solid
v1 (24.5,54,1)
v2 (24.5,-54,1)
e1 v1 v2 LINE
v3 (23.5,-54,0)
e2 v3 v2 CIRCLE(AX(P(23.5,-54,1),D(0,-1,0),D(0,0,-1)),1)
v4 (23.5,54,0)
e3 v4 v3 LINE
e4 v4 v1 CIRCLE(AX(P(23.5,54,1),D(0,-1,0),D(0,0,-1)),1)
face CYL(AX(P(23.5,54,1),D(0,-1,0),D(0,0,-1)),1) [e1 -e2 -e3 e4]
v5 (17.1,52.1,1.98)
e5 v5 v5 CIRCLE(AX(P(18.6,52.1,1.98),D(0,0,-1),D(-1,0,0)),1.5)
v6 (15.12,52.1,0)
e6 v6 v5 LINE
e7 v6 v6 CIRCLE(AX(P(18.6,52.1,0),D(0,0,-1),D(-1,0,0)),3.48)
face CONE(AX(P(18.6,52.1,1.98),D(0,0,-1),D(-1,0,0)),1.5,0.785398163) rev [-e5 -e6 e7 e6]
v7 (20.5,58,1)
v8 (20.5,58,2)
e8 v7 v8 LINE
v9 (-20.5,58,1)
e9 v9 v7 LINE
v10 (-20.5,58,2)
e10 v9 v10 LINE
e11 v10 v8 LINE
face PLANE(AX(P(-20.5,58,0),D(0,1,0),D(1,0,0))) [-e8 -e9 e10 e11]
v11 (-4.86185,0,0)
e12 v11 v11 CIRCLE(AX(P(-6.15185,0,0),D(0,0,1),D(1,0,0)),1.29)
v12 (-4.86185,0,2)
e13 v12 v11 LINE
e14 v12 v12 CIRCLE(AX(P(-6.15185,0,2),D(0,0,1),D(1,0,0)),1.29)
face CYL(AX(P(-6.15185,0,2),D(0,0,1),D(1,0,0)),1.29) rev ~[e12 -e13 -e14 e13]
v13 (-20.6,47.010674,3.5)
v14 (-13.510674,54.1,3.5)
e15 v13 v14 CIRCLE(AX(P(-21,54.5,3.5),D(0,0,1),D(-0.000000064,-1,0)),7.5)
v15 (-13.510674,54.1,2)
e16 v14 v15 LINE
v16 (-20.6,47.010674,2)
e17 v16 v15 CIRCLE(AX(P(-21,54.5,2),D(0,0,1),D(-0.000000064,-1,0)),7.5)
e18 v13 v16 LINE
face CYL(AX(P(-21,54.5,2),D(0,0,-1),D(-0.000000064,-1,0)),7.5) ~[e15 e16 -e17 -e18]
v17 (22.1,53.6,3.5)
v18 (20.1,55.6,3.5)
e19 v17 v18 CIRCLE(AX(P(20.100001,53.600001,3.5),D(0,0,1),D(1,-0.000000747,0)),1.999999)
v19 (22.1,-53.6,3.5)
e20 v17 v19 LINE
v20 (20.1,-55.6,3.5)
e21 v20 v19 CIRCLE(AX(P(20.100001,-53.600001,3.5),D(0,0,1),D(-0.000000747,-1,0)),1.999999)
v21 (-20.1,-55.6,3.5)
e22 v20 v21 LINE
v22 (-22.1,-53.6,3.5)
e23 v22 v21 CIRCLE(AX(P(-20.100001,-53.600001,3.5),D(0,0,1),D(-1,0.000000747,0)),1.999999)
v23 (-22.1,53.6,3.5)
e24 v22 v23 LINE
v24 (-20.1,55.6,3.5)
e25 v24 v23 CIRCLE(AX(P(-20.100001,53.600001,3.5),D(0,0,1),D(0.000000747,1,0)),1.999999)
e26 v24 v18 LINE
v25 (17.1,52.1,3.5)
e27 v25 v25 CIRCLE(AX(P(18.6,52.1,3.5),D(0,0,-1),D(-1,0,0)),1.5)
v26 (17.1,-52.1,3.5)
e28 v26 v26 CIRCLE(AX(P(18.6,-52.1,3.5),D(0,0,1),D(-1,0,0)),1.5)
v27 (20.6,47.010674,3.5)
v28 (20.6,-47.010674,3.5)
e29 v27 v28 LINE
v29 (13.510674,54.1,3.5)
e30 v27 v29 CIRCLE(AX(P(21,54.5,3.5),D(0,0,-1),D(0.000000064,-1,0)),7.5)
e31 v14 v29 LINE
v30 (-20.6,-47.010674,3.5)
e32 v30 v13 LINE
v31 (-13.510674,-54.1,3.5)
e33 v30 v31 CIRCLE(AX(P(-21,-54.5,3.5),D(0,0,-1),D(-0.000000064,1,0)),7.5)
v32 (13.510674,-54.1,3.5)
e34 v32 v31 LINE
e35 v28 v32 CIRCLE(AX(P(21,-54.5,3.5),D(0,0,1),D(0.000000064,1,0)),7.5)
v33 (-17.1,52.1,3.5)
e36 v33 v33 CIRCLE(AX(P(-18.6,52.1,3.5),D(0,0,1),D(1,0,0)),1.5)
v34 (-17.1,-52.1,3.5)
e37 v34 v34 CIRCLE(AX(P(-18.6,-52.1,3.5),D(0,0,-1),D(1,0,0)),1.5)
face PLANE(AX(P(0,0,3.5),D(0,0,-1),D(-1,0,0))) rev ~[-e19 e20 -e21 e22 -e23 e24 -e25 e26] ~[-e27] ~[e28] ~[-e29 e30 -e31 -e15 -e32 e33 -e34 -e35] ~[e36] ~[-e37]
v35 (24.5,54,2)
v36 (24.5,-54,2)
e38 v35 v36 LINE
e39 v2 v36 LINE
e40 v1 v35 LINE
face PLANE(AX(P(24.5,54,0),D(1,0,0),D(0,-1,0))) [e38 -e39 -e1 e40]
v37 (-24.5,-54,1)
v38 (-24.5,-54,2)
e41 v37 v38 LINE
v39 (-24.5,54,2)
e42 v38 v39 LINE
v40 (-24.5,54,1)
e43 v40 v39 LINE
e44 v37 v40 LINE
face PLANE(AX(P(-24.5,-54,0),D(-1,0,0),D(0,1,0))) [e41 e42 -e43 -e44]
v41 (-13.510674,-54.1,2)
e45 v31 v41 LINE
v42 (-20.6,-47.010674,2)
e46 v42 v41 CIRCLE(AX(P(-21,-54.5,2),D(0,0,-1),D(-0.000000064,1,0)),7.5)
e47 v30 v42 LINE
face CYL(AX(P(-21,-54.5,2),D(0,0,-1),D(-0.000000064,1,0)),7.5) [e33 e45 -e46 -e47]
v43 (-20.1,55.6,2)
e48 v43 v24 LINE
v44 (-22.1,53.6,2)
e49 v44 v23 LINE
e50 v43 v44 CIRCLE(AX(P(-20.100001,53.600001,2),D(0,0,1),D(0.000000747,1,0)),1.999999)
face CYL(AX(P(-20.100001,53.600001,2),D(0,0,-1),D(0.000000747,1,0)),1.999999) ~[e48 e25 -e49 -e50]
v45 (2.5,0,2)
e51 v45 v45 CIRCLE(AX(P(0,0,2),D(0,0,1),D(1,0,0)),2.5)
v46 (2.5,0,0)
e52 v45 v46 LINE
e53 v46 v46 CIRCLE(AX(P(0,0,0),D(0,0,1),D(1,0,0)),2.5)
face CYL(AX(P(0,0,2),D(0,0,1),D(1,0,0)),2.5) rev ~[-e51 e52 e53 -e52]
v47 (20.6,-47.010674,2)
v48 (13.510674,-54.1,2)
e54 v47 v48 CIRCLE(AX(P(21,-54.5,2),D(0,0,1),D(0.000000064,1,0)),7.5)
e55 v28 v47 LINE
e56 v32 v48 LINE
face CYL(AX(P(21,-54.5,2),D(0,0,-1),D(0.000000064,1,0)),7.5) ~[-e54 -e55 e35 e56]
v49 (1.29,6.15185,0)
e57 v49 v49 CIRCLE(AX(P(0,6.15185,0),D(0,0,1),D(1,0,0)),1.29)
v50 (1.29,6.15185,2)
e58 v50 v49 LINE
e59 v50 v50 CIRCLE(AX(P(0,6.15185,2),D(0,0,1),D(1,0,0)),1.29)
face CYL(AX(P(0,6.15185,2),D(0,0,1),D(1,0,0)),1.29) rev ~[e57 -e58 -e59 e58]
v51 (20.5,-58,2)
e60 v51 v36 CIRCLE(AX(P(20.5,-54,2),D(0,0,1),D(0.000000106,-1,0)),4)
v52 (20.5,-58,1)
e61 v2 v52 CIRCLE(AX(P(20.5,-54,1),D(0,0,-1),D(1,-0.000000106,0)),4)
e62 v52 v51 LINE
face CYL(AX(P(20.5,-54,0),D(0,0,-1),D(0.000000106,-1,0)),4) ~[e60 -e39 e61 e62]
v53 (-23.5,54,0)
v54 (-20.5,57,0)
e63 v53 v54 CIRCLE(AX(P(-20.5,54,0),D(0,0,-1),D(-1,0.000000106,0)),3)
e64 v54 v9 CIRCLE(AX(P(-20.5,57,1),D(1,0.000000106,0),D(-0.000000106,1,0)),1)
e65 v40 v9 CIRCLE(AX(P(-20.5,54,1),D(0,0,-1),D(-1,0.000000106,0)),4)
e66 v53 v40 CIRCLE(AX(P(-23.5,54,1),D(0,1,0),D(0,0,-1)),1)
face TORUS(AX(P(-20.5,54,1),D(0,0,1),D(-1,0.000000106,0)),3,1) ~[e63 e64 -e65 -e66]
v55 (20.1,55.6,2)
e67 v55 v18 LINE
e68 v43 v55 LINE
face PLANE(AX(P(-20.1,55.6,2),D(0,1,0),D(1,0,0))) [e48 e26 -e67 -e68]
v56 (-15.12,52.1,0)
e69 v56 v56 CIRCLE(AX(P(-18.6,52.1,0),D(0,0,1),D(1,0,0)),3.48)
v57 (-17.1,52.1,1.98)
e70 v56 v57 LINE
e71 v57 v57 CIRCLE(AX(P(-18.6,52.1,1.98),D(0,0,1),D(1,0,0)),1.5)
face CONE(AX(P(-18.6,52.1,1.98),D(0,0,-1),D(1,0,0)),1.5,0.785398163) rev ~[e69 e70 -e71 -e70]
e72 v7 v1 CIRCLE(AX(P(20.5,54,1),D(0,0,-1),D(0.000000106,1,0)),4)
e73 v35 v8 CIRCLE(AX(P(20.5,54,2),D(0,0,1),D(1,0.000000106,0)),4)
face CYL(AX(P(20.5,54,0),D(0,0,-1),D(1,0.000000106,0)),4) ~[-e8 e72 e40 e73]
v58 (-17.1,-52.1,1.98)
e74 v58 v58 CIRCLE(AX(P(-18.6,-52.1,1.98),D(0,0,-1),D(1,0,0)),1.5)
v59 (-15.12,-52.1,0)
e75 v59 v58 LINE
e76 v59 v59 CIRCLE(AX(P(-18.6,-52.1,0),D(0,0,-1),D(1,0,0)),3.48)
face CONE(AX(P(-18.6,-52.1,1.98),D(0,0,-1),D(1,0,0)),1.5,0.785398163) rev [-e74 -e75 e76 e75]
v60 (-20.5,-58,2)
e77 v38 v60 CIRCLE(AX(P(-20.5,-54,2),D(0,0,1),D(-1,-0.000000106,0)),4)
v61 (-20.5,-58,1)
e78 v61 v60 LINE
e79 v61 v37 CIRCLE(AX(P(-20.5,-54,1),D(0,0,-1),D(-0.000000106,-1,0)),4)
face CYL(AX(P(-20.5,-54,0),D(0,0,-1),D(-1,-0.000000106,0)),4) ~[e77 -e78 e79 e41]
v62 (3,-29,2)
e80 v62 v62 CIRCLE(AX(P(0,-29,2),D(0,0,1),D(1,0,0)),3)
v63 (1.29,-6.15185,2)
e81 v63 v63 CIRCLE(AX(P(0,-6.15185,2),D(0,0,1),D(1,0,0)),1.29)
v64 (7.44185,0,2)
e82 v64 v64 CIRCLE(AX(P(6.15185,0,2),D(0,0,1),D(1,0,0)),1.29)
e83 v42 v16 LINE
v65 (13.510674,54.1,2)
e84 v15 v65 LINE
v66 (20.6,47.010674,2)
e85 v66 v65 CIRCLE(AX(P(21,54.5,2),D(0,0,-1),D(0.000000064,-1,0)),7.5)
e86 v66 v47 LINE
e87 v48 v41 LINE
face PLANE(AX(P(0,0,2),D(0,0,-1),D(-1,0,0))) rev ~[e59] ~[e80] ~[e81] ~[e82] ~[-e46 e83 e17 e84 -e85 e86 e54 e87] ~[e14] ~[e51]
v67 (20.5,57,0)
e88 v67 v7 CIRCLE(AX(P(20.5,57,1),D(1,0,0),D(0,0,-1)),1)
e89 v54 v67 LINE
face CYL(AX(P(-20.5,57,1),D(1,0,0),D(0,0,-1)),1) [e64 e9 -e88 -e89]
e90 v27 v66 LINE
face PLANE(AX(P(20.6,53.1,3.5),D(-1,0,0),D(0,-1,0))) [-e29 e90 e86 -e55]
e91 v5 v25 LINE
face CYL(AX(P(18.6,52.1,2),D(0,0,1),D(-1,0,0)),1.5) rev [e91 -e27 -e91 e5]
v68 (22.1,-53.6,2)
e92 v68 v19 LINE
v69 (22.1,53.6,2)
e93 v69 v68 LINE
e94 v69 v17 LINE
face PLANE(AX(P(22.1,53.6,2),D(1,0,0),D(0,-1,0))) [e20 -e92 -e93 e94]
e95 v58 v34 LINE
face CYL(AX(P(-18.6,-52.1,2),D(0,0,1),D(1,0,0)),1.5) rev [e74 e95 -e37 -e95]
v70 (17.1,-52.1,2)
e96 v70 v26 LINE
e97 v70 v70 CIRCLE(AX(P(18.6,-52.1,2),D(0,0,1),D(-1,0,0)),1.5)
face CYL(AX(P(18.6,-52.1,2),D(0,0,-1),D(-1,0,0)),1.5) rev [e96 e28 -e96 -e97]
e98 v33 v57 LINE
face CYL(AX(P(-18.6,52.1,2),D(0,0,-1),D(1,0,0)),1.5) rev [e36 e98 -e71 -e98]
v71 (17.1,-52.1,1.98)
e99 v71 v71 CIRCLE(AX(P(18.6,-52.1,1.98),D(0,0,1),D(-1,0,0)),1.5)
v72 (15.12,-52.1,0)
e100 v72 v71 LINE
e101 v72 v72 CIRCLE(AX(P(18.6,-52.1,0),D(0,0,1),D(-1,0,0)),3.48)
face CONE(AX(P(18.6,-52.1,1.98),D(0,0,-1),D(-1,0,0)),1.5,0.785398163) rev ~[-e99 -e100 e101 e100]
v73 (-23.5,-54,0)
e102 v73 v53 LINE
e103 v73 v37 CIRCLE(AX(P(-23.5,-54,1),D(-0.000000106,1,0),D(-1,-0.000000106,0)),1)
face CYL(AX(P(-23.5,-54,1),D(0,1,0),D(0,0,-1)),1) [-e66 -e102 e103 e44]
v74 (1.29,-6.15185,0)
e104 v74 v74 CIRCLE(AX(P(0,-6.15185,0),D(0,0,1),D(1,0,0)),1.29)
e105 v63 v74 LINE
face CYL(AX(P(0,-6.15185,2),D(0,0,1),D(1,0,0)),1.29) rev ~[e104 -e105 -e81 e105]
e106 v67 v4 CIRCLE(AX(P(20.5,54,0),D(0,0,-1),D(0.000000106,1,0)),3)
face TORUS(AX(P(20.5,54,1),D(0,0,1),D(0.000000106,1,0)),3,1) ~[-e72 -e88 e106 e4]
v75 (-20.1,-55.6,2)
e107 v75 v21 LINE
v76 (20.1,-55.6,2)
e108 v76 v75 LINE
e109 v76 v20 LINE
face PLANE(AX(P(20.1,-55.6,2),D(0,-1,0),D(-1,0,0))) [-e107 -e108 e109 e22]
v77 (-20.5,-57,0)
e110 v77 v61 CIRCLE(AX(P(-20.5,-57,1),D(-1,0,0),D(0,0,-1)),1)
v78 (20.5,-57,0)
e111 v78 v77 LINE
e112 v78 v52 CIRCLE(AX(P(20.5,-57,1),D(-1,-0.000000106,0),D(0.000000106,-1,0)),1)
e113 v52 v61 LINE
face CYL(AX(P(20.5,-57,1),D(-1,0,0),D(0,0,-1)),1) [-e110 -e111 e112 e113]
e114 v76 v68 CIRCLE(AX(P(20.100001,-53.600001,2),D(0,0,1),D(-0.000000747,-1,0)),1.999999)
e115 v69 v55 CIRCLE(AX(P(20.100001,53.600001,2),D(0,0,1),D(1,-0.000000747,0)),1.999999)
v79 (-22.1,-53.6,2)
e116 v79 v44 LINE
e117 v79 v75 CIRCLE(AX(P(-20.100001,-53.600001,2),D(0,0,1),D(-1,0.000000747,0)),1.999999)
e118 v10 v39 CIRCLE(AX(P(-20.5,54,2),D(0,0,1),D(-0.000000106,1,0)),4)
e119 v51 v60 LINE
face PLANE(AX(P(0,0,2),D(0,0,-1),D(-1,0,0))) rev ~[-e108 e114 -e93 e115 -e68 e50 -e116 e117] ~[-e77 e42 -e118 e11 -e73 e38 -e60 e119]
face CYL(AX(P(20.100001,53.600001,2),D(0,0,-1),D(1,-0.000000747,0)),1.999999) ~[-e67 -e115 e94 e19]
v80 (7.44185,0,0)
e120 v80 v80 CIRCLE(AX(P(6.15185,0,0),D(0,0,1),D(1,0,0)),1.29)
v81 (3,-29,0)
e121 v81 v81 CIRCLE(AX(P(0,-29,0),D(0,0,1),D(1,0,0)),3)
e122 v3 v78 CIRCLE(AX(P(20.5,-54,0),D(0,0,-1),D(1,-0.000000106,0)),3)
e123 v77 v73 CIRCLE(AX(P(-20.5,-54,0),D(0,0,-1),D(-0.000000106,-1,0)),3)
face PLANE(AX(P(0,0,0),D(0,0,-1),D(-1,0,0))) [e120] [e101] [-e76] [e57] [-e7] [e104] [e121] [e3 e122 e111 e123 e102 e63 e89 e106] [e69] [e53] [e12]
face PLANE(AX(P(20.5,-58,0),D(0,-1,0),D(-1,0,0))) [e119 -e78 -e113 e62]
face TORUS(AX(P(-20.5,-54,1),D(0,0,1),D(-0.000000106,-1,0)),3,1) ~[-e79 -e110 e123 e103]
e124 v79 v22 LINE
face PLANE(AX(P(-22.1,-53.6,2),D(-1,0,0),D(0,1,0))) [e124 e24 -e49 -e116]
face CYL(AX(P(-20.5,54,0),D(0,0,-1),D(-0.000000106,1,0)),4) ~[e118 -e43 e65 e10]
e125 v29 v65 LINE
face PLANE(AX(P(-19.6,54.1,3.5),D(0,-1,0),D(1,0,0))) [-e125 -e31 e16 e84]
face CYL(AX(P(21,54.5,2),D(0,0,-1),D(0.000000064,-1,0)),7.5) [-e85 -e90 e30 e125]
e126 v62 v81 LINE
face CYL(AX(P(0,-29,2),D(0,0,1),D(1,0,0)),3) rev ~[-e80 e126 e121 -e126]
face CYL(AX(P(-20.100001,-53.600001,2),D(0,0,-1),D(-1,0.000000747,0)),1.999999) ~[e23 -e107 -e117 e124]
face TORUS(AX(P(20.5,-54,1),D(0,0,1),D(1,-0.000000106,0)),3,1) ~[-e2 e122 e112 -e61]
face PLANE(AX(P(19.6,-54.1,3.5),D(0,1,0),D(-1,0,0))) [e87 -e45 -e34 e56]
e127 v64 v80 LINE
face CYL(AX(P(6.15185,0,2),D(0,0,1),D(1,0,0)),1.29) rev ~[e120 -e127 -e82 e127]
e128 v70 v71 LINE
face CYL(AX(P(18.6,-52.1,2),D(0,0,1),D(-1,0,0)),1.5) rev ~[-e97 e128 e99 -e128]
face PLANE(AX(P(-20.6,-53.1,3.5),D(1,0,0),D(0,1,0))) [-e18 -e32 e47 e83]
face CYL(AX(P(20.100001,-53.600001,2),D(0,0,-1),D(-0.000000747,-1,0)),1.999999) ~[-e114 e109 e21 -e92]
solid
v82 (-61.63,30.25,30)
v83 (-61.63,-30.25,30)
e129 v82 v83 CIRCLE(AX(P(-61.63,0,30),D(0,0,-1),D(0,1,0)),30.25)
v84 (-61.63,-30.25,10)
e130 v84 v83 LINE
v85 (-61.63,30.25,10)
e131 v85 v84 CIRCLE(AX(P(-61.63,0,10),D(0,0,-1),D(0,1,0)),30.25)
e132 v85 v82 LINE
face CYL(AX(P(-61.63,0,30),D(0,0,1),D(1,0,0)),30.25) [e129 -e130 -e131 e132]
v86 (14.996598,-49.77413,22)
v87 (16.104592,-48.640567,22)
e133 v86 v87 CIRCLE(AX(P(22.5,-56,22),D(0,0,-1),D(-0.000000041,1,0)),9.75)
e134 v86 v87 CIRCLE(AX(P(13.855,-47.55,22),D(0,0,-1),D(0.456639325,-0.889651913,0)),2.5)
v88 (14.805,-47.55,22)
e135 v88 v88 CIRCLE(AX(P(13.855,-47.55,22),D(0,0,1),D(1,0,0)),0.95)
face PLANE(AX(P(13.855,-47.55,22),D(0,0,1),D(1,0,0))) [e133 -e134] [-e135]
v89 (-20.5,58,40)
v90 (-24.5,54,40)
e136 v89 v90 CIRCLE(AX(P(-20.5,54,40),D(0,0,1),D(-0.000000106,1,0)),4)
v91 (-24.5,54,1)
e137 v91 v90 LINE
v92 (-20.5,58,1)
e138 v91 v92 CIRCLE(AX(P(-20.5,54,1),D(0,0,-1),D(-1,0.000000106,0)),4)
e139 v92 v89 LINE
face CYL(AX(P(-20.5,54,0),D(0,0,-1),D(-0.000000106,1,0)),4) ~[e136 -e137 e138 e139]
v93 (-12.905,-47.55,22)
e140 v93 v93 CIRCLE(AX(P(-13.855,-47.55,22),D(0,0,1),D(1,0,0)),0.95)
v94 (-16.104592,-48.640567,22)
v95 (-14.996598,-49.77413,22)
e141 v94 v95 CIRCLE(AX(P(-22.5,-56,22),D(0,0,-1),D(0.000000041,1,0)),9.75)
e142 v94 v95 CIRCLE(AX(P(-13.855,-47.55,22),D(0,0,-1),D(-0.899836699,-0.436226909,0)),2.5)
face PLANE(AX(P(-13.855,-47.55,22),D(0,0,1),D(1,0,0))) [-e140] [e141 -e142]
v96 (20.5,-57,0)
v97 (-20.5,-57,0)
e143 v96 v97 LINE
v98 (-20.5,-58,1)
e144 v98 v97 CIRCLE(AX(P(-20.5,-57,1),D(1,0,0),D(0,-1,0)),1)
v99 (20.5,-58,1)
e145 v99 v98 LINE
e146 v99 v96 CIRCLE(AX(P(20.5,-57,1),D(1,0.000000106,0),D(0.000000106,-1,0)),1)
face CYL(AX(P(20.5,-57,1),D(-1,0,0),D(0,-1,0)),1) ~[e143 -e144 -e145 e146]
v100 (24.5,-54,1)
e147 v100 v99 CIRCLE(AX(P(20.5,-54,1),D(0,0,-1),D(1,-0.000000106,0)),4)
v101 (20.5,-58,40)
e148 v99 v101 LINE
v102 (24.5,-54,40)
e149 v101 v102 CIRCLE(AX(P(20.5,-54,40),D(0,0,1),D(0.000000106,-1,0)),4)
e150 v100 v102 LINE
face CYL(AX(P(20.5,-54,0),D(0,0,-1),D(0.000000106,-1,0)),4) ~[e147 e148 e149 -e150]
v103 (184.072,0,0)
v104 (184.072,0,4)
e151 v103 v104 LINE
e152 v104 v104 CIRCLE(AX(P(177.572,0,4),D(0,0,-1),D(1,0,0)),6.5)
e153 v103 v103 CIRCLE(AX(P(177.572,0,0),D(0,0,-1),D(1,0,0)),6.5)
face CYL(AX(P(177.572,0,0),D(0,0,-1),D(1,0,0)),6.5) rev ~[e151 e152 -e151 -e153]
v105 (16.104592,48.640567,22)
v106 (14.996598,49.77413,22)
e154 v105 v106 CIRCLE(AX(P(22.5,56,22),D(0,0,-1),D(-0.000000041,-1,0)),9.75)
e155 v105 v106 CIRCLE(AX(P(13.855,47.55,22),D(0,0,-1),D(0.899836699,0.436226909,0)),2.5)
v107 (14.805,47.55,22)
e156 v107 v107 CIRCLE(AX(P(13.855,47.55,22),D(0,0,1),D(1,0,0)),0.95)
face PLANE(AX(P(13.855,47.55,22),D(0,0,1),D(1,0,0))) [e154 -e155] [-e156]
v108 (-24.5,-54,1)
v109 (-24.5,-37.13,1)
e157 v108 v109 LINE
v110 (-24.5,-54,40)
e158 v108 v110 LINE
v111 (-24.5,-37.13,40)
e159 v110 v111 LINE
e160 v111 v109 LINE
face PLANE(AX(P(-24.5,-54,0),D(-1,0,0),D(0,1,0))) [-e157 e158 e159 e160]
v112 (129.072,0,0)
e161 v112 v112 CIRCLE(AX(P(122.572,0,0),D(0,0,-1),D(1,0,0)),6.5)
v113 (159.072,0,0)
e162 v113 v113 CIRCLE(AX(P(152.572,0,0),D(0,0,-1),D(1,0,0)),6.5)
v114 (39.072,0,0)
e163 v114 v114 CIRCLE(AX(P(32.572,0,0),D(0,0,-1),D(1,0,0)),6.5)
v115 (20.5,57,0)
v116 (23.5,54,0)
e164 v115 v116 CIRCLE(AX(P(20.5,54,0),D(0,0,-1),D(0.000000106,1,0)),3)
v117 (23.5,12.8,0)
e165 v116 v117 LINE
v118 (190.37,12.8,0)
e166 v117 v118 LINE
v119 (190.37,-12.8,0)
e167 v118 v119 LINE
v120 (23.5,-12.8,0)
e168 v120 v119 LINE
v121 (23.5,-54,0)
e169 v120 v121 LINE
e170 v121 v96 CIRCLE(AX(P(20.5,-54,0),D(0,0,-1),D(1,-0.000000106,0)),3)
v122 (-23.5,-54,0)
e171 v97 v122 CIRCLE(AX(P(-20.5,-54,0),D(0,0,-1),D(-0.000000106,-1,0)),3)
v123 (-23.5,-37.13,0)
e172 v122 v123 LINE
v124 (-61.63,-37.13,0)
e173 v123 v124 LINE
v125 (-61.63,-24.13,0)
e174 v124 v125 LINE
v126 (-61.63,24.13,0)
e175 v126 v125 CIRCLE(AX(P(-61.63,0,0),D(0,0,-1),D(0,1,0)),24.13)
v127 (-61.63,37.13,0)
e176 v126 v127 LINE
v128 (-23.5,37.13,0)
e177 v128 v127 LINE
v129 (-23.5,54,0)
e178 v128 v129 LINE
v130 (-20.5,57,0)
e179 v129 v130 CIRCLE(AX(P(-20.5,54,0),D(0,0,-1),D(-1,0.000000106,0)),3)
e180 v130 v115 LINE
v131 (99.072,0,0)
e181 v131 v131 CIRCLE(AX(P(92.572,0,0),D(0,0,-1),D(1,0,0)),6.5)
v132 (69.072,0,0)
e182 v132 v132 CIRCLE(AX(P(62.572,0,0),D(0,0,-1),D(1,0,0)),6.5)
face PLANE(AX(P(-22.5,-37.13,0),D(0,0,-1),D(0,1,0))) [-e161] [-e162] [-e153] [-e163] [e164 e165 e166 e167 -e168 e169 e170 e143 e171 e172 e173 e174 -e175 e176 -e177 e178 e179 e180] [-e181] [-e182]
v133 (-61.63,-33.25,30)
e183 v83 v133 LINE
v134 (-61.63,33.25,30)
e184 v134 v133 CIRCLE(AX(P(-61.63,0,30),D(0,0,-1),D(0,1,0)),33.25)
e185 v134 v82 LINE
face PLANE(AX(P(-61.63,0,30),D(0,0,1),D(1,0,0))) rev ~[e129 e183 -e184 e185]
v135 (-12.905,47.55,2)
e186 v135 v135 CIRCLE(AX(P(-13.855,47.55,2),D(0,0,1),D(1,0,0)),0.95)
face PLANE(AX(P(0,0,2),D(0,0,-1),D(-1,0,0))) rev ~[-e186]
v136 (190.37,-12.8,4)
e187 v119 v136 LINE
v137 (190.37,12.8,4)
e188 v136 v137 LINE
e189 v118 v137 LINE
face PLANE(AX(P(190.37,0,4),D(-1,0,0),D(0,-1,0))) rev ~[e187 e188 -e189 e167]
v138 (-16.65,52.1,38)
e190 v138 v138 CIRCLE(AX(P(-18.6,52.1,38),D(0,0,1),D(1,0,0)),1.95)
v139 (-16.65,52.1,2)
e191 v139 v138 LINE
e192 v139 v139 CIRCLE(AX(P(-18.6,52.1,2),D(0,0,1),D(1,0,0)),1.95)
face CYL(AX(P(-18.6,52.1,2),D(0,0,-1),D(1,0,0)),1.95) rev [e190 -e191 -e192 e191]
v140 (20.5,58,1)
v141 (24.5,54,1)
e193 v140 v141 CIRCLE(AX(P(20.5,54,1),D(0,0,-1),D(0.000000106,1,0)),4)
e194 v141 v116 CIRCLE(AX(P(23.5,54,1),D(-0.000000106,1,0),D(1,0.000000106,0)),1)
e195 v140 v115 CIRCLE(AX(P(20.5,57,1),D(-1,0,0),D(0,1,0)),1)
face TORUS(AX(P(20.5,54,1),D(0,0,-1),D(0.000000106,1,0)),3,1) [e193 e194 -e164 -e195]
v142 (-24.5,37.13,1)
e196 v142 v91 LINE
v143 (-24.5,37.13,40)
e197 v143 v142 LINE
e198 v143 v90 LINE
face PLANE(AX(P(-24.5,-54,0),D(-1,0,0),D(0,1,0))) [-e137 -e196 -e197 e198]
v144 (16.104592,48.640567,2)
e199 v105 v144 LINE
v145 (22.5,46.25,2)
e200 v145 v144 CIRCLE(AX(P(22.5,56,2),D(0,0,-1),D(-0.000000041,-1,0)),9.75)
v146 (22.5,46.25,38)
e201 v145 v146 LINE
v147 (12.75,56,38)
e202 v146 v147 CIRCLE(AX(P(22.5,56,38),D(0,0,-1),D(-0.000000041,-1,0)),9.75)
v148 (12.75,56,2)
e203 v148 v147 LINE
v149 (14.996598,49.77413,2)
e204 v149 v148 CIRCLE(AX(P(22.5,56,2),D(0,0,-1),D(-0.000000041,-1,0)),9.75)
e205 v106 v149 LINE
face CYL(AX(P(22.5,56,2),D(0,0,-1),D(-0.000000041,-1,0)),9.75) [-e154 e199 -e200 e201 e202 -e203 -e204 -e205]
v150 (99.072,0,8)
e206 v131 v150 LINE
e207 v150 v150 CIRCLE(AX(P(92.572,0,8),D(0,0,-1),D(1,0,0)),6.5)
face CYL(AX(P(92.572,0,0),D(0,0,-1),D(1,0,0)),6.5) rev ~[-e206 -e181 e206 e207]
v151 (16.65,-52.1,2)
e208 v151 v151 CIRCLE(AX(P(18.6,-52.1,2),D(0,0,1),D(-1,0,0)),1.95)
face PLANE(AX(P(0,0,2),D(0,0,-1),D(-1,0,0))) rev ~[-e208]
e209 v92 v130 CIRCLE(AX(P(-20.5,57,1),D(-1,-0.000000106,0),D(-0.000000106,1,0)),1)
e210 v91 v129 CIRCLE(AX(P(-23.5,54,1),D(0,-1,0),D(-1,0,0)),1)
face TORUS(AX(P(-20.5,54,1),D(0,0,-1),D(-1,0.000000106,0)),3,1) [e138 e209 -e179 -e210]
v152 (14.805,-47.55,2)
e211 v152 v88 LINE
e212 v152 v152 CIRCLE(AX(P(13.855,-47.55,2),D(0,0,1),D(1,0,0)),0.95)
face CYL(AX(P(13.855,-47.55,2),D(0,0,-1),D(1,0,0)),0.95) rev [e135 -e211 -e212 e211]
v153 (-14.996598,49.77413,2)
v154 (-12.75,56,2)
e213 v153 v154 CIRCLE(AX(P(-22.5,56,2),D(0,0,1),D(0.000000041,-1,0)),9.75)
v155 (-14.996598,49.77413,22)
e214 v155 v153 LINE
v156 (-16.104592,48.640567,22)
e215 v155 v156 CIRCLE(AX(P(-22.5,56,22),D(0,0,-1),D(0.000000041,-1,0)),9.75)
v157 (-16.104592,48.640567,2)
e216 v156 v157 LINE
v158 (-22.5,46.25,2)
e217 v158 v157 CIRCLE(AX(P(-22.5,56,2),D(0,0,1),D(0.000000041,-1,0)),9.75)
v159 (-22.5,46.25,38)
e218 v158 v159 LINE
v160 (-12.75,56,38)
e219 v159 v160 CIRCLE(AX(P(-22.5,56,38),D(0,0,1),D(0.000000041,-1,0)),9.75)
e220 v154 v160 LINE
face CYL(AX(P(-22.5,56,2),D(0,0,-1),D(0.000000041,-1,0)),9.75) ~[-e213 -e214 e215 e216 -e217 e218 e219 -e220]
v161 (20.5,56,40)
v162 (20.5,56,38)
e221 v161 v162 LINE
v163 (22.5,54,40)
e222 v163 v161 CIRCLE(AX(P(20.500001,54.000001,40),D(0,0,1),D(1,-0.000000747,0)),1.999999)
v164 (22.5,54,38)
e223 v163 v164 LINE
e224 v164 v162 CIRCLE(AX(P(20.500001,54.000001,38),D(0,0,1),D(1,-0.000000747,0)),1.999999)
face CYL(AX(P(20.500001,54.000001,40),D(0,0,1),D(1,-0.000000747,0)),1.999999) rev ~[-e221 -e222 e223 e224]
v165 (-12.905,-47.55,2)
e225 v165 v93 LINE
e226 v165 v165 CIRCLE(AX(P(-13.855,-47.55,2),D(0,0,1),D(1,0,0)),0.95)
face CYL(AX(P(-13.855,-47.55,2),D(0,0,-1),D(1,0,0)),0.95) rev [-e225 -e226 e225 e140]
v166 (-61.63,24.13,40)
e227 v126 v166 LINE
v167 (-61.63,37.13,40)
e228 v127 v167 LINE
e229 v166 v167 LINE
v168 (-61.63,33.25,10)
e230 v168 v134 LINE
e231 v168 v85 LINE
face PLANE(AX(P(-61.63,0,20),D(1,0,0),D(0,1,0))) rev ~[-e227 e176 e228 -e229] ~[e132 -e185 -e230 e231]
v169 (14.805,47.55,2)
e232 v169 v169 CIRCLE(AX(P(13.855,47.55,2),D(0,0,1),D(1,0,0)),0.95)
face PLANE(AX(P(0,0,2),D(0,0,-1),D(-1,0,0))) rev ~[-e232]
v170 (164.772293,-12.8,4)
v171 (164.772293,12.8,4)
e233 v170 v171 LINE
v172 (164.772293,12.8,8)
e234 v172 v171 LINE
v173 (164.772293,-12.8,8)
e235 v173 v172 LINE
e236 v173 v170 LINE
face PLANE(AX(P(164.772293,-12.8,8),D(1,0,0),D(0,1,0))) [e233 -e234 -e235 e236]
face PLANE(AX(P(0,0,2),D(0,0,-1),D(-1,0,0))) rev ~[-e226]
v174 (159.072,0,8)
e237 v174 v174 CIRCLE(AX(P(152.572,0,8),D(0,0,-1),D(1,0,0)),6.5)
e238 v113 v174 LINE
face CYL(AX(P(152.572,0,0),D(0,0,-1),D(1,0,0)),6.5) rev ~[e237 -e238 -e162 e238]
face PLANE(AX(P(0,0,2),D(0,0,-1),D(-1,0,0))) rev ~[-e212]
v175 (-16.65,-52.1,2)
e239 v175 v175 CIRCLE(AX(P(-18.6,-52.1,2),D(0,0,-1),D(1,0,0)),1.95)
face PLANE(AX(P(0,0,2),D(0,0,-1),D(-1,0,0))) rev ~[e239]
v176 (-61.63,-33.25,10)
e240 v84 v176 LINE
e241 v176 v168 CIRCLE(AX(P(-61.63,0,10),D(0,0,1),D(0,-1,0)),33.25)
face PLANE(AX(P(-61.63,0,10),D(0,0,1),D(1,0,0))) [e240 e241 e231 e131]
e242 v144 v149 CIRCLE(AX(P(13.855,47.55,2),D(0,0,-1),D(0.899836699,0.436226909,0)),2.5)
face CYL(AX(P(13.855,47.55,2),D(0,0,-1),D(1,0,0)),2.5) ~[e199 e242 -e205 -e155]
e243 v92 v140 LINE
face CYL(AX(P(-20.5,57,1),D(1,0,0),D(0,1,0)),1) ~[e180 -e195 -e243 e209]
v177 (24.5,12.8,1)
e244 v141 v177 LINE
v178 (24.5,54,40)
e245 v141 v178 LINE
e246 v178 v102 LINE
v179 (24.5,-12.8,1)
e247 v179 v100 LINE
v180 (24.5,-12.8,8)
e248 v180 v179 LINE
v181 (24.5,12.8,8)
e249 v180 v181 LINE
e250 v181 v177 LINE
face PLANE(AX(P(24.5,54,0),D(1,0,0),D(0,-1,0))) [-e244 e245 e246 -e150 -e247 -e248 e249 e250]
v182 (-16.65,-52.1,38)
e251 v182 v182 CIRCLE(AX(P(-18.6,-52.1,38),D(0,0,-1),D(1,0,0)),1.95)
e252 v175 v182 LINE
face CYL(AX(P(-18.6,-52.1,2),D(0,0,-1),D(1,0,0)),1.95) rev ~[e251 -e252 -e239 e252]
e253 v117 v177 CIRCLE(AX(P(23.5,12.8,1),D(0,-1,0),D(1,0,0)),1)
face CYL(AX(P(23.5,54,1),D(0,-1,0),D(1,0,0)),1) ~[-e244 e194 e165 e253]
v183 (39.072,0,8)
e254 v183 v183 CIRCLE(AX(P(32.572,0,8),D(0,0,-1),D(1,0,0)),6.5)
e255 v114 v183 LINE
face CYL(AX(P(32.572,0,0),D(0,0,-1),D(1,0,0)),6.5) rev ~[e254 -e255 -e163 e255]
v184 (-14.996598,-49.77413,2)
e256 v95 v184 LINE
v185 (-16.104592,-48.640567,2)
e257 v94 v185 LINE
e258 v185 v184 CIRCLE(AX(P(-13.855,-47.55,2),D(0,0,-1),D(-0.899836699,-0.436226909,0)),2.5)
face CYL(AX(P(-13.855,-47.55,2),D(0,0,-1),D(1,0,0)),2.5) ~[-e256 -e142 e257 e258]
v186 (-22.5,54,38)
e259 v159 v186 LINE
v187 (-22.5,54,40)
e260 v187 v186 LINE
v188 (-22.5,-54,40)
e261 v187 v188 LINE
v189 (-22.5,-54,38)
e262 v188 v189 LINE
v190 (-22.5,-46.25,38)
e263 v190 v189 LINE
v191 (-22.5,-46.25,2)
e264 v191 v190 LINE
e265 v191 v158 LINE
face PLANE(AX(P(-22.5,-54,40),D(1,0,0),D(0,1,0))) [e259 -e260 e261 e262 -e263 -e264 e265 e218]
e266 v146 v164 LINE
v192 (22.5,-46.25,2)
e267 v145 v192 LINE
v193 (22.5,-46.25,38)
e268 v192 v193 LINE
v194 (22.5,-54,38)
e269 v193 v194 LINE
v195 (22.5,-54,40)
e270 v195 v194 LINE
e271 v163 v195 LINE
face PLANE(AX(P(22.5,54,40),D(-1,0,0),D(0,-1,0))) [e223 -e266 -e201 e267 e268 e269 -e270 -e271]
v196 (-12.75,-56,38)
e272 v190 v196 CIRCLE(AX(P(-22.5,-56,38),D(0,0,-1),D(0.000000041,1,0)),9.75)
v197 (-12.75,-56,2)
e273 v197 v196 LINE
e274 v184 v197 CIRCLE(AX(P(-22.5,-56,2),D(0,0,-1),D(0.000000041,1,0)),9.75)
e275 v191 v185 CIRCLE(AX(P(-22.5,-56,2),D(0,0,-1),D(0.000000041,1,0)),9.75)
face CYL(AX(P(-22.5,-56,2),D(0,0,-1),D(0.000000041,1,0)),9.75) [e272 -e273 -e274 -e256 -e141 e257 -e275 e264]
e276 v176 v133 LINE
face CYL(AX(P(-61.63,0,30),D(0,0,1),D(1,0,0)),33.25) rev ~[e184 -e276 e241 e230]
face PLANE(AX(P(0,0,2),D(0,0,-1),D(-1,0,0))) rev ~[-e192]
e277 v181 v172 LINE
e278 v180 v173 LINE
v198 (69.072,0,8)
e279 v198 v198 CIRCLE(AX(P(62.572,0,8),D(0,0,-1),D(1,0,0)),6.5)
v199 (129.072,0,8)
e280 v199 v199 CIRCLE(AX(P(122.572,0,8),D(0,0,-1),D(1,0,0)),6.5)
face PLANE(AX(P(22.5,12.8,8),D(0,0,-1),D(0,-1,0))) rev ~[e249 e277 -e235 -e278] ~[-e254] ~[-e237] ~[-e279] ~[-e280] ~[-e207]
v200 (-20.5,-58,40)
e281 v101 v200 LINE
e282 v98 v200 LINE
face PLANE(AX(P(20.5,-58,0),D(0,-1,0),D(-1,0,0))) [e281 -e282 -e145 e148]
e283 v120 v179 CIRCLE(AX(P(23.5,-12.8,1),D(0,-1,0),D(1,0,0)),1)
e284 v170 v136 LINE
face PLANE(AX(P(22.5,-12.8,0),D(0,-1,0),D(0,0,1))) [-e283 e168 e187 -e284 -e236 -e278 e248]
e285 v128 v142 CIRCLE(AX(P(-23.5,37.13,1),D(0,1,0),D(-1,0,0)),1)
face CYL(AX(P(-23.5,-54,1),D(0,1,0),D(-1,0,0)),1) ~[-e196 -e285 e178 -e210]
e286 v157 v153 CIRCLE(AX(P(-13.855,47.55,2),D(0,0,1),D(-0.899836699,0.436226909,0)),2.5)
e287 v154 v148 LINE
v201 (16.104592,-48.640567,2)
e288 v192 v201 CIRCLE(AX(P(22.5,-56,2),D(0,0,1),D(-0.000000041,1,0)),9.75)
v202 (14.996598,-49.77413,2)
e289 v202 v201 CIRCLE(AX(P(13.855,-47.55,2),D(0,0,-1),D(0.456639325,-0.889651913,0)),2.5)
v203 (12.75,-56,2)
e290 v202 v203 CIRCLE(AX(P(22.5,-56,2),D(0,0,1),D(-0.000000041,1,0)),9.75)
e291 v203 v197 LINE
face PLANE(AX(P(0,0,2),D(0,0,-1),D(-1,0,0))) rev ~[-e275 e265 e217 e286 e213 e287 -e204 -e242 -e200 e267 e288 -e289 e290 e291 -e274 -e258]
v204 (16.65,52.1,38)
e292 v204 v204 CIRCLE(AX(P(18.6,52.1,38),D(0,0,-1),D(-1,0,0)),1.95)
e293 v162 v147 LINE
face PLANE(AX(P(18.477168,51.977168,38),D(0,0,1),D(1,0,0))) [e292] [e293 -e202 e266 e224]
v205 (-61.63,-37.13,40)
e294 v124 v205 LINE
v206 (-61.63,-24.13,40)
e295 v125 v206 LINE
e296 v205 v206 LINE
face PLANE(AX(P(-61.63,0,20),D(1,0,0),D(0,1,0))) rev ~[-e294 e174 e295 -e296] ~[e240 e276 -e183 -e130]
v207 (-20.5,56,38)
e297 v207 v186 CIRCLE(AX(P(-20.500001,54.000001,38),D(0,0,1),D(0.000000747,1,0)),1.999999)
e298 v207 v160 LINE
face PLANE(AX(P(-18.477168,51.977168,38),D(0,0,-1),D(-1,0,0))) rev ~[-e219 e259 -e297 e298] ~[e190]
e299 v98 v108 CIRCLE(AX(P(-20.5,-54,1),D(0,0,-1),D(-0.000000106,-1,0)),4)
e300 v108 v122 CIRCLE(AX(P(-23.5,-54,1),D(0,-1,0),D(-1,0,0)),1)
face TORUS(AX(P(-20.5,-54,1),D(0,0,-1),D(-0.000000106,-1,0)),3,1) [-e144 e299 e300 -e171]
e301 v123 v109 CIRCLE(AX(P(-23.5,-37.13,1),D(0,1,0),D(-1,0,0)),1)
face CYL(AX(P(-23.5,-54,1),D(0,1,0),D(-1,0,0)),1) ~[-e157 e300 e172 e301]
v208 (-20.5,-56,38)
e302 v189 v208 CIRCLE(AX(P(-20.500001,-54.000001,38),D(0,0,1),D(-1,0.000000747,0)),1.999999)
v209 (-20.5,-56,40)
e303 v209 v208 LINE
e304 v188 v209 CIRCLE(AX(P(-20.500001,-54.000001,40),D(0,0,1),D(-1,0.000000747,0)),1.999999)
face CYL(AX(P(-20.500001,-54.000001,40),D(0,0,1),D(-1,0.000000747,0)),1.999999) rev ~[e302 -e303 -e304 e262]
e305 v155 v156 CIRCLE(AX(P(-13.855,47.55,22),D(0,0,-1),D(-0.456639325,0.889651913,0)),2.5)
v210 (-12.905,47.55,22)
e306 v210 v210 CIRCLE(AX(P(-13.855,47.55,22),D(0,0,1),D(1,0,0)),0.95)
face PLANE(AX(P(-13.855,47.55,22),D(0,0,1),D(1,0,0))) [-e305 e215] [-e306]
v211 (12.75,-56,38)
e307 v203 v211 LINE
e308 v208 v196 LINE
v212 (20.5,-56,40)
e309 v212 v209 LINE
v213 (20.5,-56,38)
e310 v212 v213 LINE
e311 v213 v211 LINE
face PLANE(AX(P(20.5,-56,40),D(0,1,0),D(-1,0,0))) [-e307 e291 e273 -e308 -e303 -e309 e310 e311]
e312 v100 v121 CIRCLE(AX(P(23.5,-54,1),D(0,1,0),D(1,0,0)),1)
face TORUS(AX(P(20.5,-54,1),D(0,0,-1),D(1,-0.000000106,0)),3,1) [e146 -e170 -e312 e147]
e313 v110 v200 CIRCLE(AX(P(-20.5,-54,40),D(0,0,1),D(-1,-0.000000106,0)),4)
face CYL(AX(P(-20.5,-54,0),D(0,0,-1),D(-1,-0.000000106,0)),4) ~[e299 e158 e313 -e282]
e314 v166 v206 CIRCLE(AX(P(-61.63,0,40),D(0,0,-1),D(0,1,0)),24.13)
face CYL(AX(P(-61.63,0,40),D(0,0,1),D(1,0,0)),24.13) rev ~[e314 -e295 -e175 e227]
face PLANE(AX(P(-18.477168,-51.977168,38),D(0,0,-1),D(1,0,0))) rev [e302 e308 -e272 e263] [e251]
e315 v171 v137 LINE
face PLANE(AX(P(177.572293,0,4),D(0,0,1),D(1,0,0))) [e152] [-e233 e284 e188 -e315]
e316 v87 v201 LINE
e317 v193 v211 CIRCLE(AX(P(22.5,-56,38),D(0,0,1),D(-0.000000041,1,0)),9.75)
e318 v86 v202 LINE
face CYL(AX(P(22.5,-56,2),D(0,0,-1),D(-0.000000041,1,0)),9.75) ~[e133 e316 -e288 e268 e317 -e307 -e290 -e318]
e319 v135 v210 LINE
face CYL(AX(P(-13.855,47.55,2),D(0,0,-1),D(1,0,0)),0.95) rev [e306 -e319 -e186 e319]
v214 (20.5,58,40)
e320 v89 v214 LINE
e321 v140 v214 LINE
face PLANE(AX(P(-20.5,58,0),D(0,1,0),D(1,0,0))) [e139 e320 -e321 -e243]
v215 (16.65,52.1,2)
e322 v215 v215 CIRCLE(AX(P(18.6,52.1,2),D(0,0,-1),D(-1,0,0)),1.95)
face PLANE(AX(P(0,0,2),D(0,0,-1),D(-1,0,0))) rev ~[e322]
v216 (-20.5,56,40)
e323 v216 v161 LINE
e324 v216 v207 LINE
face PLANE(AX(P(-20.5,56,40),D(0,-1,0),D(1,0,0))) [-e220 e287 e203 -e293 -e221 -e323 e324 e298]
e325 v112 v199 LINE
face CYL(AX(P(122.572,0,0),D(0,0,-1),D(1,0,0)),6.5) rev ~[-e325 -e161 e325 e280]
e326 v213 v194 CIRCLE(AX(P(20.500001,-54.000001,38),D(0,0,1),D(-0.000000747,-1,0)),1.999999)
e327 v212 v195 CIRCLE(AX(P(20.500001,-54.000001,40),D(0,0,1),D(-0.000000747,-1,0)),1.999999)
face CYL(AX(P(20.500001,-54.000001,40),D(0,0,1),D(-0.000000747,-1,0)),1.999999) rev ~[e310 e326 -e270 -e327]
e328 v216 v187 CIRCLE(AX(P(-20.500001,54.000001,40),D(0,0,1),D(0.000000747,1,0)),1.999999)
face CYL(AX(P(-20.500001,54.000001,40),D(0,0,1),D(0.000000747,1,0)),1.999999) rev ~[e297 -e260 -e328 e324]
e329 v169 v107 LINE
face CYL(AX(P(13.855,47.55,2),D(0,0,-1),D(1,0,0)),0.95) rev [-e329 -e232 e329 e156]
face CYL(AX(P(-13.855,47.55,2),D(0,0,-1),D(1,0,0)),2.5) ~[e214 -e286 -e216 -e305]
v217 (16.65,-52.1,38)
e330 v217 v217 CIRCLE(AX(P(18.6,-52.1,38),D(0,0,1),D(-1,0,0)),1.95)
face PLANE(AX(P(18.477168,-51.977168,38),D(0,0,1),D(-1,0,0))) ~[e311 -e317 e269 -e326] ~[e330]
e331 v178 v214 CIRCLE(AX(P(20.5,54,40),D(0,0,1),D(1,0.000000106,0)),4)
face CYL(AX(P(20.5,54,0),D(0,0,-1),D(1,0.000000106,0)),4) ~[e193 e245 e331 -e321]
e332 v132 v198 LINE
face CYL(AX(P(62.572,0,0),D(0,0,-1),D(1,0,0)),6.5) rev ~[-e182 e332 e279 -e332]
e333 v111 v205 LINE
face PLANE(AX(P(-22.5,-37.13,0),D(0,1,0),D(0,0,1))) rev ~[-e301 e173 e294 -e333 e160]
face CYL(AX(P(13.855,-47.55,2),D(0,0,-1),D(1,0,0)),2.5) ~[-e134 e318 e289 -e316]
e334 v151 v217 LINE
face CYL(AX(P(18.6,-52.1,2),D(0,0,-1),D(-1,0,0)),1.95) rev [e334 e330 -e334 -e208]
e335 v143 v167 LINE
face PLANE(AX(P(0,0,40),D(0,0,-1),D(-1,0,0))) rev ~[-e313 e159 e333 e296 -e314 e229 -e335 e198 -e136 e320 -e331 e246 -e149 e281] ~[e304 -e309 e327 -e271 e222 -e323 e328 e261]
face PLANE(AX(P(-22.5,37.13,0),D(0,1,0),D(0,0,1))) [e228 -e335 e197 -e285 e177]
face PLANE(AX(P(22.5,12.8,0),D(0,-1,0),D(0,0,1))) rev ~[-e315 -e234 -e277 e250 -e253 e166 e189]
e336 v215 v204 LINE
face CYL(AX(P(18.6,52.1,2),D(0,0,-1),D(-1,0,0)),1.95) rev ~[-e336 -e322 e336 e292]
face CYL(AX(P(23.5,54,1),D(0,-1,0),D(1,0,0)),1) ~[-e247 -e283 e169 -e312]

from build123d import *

# Parameters (mm, degrees)
PAD_DEPTH                     = 40
POCKET_DEPTH                  = 38
SKETCH002_R                   = 1.95
PAD001_DEPTH                  = 36
SKETCH002_MIRRORED_2_R        = 1.95
PAD001_MIRRORED_2_DEPTH       = 36
FILLET_R                      = 1
SKETCH008_R                   = 2.5
SKETCH008_R_2                 = 0.95
PAD005_DEPTH                  = 20
SKETCH009_W                   = 74.26
SKETCH009_H                   = 40
PAD006_DEPTH                  = 39.13
SKETCH011_R                   = 24.13
POCKET003_DEPTH               = 40.001
SKETCH012_R                   = 33.25
SKETCH012_R_2                 = 30.25
POCKET004_DEPTH               = 20
SKETCH013_W                   = 25.6
SKETCH013_H                   = 8
PAD007_DEPTH                  = 167.87
SKETCH014_R                   = 6.5
POCKET005_DEPTH               = 40.001
SKETCH015_W                   = 25.6
SKETCH015_H                   = 25.6
POCKET006_DEPTH               = 4
PAD002_DEPTH                  = 2
PAD003_DEPTH                  = 1.5
POCKET001_DEPTH               = 1.5
SKETCH006_R                   = 1.5
PAD004_DEPTH                  = 1.5
SKETCH006_MIRRORED002_2_R     = 1.5
PAD004_MIRRORED002_2_DEPTH    = 1.5
SKETCH007_R                   = 1.5
POCKET002_DEPTH               = 2
SKETCH007_MIRRORED004_2_R     = 1.5
POCKET002_MIRRORED004_2_DEPTH = 2
FILLET001_R                   = 1
CHAMFER_SIZE                  = 1.98
SKETCH016_R                   = 2.5
SKETCH016_R_2                 = 1.29
SKETCH016_R_3                 = 3
POCKET007_DEPTH               = 5


with BuildPart() as main_box:
    # Sketch → Pad (new body)
    with BuildSketch(Plane.XY):
        with BuildLine():
            Line((-20.5, 58), (20.5, 58))
            ThreePointArc((24.5, 54), (23.328427, 56.828427), (20.5, 58))
            Line((24.5, 54), (24.5, -54))
            ThreePointArc((20.5, -58), (23.328427, -56.828427), (24.5, -54))
            Line((20.5, -58), (-20.5, -58))
            ThreePointArc((-24.5, -54), (-23.328427, -56.828427), (-20.5, -58))
            Line((-24.5, -54), (-24.5, 54))
            ThreePointArc((-20.5, 58), (-23.328427, 56.828427), (-24.5, 54))
        make_face()
    extrude(amount=PAD_DEPTH)

    # Sketch001 (on Face10 of Pad) → Pocket (cut)
    with BuildSketch(Plane.XY.offset(40)):
        with BuildLine():
            Line((-20.5, 56), (20.5, 56))
            ThreePointArc((22.5, 54), (21.914214, 55.414214), (20.5, 56))
            Line((22.5, 54), (22.5, -54))
            ThreePointArc((20.5, -56), (21.914214, -55.414214), (22.5, -54))
            Line((20.5, -56), (-20.5, -56))
            ThreePointArc((-22.5, -54), (-21.914214, -55.414214), (-20.5, -56))
            Line((-22.5, -54), (-22.5, 54))
            ThreePointArc((-20.5, 56), (-21.914214, 55.414214), (-22.5, 54))
        make_face()
    extrude(amount=-POCKET_DEPTH, mode=Mode.SUBTRACT)

    # Sketch002 (on Face19 of Pocket) → Pad001 (join)
    with BuildSketch(Plane.XY.offset(2)):
        with BuildLine():
            Line((-22.5, 46.25), (-22.5, 56))
            Line((-22.5, 56), (-12.75, 56))
            ThreePointArc((-22.5, 46.25), (-15.605709, 49.105709), (-12.75, 56))
        make_face()
        with Locations((-18.6, 52.1)):
            Circle(SKETCH002_R, mode=Mode.SUBTRACT)
    pad001 = extrude(amount=PAD001_DEPTH)

    # Sketch002 Mirrored 2 → Pad001 Mirrored 2 (add)
    with BuildSketch(Plane(origin=(0, 0, 2), x_dir=(-1, 0, 0), z_dir=(0, 0, -1))):
        with BuildLine():
            Line((-22.5, 46.25), (-22.5, 56))
            Line((-22.5, 56), (-12.75, 56))
            ThreePointArc((-22.5, 46.25), (-15.605709, 49.105709), (-12.75, 56))
        make_face()
        with Locations((-18.6, 52.1)):
            Circle(SKETCH002_MIRRORED_2_R, mode=Mode.SUBTRACT)
    pad001_mirrored_2 = extrude(amount=-PAD001_MIRRORED_2_DEPTH)

    # Mirrored001: Pad001, Pad001 Mirrored 2 across Sketch002 H_Axis
    add(pad001.mirror(Plane(origin=(0, 0, 2), x_dir=(0, 0, 1), z_dir=(0, 1, 0))))
    add(pad001_mirrored_2.mirror(Plane(origin=(0, 0, 2), x_dir=(0, 0, 1), z_dir=(0, 1, 0))))

    # Fillet
    fillet_edges = [main_box.edges().sort_by_distance(p)[0] for p in [
        (-24.5, 0, 0),
        (-23.328427, 56.828427, 0),
        (0, 58, 0),
        (23.328427, 56.828427, 0),
        (24.5, 0, 0),
        (23.328427, -56.828427, 0),
        (0, -58, 0),
        (-23.328427, -56.828427, 0),
    ]]
    fillet(fillet_edges, radius=FILLET_R)

    # Sketch008 (on Face29 of Fillet) → Pad005 (join)
    with BuildSketch(Plane.XY.offset(2)):
        with Locations((-13.855, 47.55)):
            Circle(SKETCH008_R)
        with Locations((-13.855, 47.55)):
            Circle(SKETCH008_R_2, mode=Mode.SUBTRACT)
        with Locations((13.855, 47.55)):
            Circle(SKETCH008_R)
        with Locations((13.855, 47.55)):
            Circle(SKETCH008_R_2, mode=Mode.SUBTRACT)
        with Locations((-13.855, -47.55)):
            Circle(SKETCH008_R)
        with Locations((-13.855, -47.55)):
            Circle(SKETCH008_R_2, mode=Mode.SUBTRACT)
        with Locations((13.855, -47.55)):
            Circle(SKETCH008_R)
        with Locations((13.855, -47.55)):
            Circle(SKETCH008_R_2, mode=Mode.SUBTRACT)
    extrude(amount=PAD005_DEPTH)

    # Sketch009 (on Face21 of Pad005) → Pad006 (join)
    with BuildSketch(Plane.YZ.offset(-22.5)):
        with Locations((0, 20)):
            Rectangle(SKETCH009_W, SKETCH009_H)
    extrude(amount=-PAD006_DEPTH)

    # Sketch011 (on Face10 of Pad006) → Pocket003 (cut, through all)
    with BuildSketch(Plane.XY.offset(40)):
        with Locations((-61.63, 0)):
            Circle(SKETCH011_R)
    extrude(amount=-POCKET003_DEPTH, mode=Mode.SUBTRACT)

    # Sketch012 (on Face10 of Pocket003) → Pocket004 (cut)
    with BuildSketch(Plane.XY.offset(30)):
        with Locations((-61.63, 0)):
            Circle(SKETCH012_R)
        with Locations((-61.63, 0)):
            Circle(SKETCH012_R_2, mode=Mode.SUBTRACT)
    extrude(amount=-POCKET004_DEPTH, mode=Mode.SUBTRACT)

    # Sketch013 (on Face16 of Pocket004) → Pad007 (join)
    with BuildSketch(Plane(origin=(22.5, 0, 0), x_dir=(0, -1, 0), z_dir=(-1, 0, 0))):
        with Locations((0, 4)):
            Rectangle(SKETCH013_W, SKETCH013_H)
    extrude(amount=-PAD007_DEPTH)

    # Sketch014 (on Face60 of Pad007) → Pocket005 (cut, through all)
    with BuildSketch(Plane(origin=(0, 0, 0), x_dir=(1, 0, 0), z_dir=(0, 0, -1))):
        with Locations((177.572, 0)):
            Circle(SKETCH014_R)
        with Locations((152.572, 0)):
            Circle(SKETCH014_R)
        with Locations((122.572, 0)):
            Circle(SKETCH014_R)
        with Locations((92.572, 0)):
            Circle(SKETCH014_R)
        with Locations((62.572, 0)):
            Circle(SKETCH014_R)
        with Locations((32.572, 0)):
            Circle(SKETCH014_R)
    extrude(amount=-POCKET005_DEPTH, mode=Mode.SUBTRACT)

    # Sketch015 (on Face58 of Pocket005) → Pocket006 (cut)
    with BuildSketch(Plane.XY.offset(8)):
        with Locations((177.572293, 0)):
            Rectangle(SKETCH015_W, SKETCH015_H)
    extrude(amount=-POCKET006_DEPTH, mode=Mode.SUBTRACT)


with BuildPart() as main_lid:
    # Sketch003 → Pad002 (new body)
    with BuildSketch(Plane.XY):
        with BuildLine():
            Line((-20.5, 58), (20.5, 58))
            ThreePointArc((24.5, 54), (23.328427, 56.828427), (20.5, 58))
            Line((24.5, 54), (24.5, -54))
            ThreePointArc((20.5, -58), (23.328427, -56.828427), (24.5, -54))
            Line((20.5, -58), (-20.5, -58))
            ThreePointArc((-24.5, -54), (-23.328427, -56.828427), (-20.5, -58))
            Line((-24.5, -54), (-24.5, 54))
            ThreePointArc((-20.5, 58), (-23.328427, 56.828427), (-24.5, 54))
        make_face()
    extrude(amount=PAD002_DEPTH)

    # Sketch004 (on Face10 of Pad002) → Pad003 (join)
    with BuildSketch(Plane.XY.offset(2)):
        with BuildLine():
            Line((-20.1, 55.6), (20.1, 55.6))
            ThreePointArc((22.1, 53.6), (21.514214, 55.014214), (20.1, 55.6))
            Line((22.1, 53.6), (22.1, -53.6))
            ThreePointArc((20.1, -55.6), (21.514214, -55.014214), (22.1, -53.6))
            Line((20.1, -55.6), (-20.1, -55.6))
            ThreePointArc((-22.1, -53.6), (-21.514214, -55.014214), (-20.1, -55.6))
            Line((-22.1, -53.6), (-22.1, 53.6))
            ThreePointArc((-20.1, 55.6), (-21.514214, 55.014214), (-22.1, 53.6))
        make_face()
    extrude(amount=PAD003_DEPTH)

    # Sketch005 (on Face19 of Pad003) → Pocket001 (cut)
    with BuildSketch(Plane.XY.offset(3.5)):
        with BuildLine():
            Line((-19.6, 54.1), (19.6, 54.1))
            ThreePointArc((20.6, 53.1), (20.307107, 53.807107), (19.6, 54.1))
            Line((20.6, 53.1), (20.6, -53.1))
            ThreePointArc((19.6, -54.1), (20.307107, -53.807107), (20.6, -53.1))
            Line((19.6, -54.1), (-19.6, -54.1))
            ThreePointArc((-20.6, -53.1), (-20.307107, -53.807107), (-19.6, -54.1))
            Line((-20.6, -53.1), (-20.6, 53.1))
            ThreePointArc((-19.6, 54.1), (-20.307107, 53.807107), (-20.6, 53.1))
        make_face()
    extrude(amount=-POCKET001_DEPTH, mode=Mode.SUBTRACT)

    # Sketch006 (on Face28 of Pocket001) → Pad004 (join)
    with BuildSketch(Plane.XY.offset(2)):
        with BuildLine():
            Line((-21, 47), (-21, 54.5))
            Line((-21, 54.5), (-13.5, 54.5))
            ThreePointArc((-21, 47), (-15.696699, 49.196699), (-13.5, 54.5))
        make_face()
        with Locations((-18.6, 52.1)):
            Circle(SKETCH006_R, mode=Mode.SUBTRACT)
    pad004 = extrude(amount=PAD004_DEPTH)

    # Sketch006 Mirrored002 2 → Pad004 Mirrored002 2 (add)
    with BuildSketch(Plane(origin=(0, 0, 2), x_dir=(-1, 0, 0), z_dir=(0, 0, -1))):
        with BuildLine():
            Line((-21, 47), (-21, 54.5))
            Line((-21, 54.5), (-13.5, 54.5))
            ThreePointArc((-21, 47), (-15.696699, 49.196699), (-13.5, 54.5))
        make_face()
        with Locations((-18.6, 52.1)):
            Circle(SKETCH006_MIRRORED002_2_R, mode=Mode.SUBTRACT)
    pad004_mirrored002_2 = extrude(amount=-PAD004_MIRRORED002_2_DEPTH)

    # Mirrored003: Pad004, Pad004 Mirrored002 2 across Sketch006 H_Axis
    add(pad004.mirror(Plane(origin=(0, 0, 2), x_dir=(0, 0, 1), z_dir=(0, 1, 0))))
    add(pad004_mirrored002_2.mirror(Plane(origin=(0, 0, 2), x_dir=(0, 0, 1), z_dir=(0, 1, 0))))

    # Sketch007 (on Face30 of MultiTransform001) → Pocket002 (cut)
    with BuildSketch(Plane.XY.offset(2)):
        with Locations((-18.6, 52.1)):
            Circle(SKETCH007_R)
    pocket002 = extrude(amount=-POCKET002_DEPTH, mode=Mode.SUBTRACT)

    # Sketch007 Mirrored004 2 → Pocket002 Mirrored004 2 (cut)
    with BuildSketch(Plane(origin=(0, 0, 2), x_dir=(-1, 0, 0), z_dir=(0, 0, -1))):
        with Locations((-18.6, 52.1)):
            Circle(SKETCH007_MIRRORED004_2_R)
    pocket002_mirrored004_2 = extrude(amount=POCKET002_MIRRORED004_2_DEPTH, mode=Mode.SUBTRACT)

    # Mirrored005: Pocket002, Pocket002 Mirrored004 2 across Sketch007 H_Axis
    add(pocket002.mirror(Plane(origin=(0, 0, 2), x_dir=(0, 0, 1), z_dir=(0, 1, 0))), mode=Mode.SUBTRACT)
    add(pocket002_mirrored004_2.mirror(Plane(origin=(0, 0, 2), x_dir=(0, 0, 1), z_dir=(0, 1, 0))), mode=Mode.SUBTRACT)

    # Fillet001
    fillet001_edges = [main_lid.edges().sort_by_distance(p)[0] for p in [
        (24.5, 0, 0),
        (23.328427, 56.828427, 0),
        (0, 58, 0),
        (-23.328427, 56.828427, 0),
        (-24.5, 0, 0),
        (-23.328427, -56.828427, 0),
        (0, -58, 0),
        (23.328427, -56.828427, 0),
    ]]
    fillet(fillet001_edges, radius=FILLET001_R)

    # Chamfer
    chamfer_edges = [main_lid.edges().sort_by_distance(p)[0] for p in [
        (20.1, 52.1, 0),
        (-20.1, 52.1, 0),
        (-20.1, -52.1, 0),
        (20.1, -52.1, 0),
    ]]
    chamfer(chamfer_edges, length=CHAMFER_SIZE)

    # Sketch016 (on Face52 of Chamfer) → Pocket007 (cut)
    with BuildSketch(Plane.XY.offset(2)):
        Circle(SKETCH016_R)
        with Locations((0, 6.15185)):
            Circle(SKETCH016_R_2)
        with Locations((6.15185, 0)):
            Circle(SKETCH016_R_2)
        with Locations((0, -6.15185)):
            Circle(SKETCH016_R_2)
        with Locations((-6.15185, 0)):
            Circle(SKETCH016_R_2)
        with Locations((0, -29)):
            Circle(SKETCH016_R_3)
    extrude(amount=-POCKET007_DEPTH, mode=Mode.SUBTRACT)


solid = Compound([main_box.part, main_lid.part])
